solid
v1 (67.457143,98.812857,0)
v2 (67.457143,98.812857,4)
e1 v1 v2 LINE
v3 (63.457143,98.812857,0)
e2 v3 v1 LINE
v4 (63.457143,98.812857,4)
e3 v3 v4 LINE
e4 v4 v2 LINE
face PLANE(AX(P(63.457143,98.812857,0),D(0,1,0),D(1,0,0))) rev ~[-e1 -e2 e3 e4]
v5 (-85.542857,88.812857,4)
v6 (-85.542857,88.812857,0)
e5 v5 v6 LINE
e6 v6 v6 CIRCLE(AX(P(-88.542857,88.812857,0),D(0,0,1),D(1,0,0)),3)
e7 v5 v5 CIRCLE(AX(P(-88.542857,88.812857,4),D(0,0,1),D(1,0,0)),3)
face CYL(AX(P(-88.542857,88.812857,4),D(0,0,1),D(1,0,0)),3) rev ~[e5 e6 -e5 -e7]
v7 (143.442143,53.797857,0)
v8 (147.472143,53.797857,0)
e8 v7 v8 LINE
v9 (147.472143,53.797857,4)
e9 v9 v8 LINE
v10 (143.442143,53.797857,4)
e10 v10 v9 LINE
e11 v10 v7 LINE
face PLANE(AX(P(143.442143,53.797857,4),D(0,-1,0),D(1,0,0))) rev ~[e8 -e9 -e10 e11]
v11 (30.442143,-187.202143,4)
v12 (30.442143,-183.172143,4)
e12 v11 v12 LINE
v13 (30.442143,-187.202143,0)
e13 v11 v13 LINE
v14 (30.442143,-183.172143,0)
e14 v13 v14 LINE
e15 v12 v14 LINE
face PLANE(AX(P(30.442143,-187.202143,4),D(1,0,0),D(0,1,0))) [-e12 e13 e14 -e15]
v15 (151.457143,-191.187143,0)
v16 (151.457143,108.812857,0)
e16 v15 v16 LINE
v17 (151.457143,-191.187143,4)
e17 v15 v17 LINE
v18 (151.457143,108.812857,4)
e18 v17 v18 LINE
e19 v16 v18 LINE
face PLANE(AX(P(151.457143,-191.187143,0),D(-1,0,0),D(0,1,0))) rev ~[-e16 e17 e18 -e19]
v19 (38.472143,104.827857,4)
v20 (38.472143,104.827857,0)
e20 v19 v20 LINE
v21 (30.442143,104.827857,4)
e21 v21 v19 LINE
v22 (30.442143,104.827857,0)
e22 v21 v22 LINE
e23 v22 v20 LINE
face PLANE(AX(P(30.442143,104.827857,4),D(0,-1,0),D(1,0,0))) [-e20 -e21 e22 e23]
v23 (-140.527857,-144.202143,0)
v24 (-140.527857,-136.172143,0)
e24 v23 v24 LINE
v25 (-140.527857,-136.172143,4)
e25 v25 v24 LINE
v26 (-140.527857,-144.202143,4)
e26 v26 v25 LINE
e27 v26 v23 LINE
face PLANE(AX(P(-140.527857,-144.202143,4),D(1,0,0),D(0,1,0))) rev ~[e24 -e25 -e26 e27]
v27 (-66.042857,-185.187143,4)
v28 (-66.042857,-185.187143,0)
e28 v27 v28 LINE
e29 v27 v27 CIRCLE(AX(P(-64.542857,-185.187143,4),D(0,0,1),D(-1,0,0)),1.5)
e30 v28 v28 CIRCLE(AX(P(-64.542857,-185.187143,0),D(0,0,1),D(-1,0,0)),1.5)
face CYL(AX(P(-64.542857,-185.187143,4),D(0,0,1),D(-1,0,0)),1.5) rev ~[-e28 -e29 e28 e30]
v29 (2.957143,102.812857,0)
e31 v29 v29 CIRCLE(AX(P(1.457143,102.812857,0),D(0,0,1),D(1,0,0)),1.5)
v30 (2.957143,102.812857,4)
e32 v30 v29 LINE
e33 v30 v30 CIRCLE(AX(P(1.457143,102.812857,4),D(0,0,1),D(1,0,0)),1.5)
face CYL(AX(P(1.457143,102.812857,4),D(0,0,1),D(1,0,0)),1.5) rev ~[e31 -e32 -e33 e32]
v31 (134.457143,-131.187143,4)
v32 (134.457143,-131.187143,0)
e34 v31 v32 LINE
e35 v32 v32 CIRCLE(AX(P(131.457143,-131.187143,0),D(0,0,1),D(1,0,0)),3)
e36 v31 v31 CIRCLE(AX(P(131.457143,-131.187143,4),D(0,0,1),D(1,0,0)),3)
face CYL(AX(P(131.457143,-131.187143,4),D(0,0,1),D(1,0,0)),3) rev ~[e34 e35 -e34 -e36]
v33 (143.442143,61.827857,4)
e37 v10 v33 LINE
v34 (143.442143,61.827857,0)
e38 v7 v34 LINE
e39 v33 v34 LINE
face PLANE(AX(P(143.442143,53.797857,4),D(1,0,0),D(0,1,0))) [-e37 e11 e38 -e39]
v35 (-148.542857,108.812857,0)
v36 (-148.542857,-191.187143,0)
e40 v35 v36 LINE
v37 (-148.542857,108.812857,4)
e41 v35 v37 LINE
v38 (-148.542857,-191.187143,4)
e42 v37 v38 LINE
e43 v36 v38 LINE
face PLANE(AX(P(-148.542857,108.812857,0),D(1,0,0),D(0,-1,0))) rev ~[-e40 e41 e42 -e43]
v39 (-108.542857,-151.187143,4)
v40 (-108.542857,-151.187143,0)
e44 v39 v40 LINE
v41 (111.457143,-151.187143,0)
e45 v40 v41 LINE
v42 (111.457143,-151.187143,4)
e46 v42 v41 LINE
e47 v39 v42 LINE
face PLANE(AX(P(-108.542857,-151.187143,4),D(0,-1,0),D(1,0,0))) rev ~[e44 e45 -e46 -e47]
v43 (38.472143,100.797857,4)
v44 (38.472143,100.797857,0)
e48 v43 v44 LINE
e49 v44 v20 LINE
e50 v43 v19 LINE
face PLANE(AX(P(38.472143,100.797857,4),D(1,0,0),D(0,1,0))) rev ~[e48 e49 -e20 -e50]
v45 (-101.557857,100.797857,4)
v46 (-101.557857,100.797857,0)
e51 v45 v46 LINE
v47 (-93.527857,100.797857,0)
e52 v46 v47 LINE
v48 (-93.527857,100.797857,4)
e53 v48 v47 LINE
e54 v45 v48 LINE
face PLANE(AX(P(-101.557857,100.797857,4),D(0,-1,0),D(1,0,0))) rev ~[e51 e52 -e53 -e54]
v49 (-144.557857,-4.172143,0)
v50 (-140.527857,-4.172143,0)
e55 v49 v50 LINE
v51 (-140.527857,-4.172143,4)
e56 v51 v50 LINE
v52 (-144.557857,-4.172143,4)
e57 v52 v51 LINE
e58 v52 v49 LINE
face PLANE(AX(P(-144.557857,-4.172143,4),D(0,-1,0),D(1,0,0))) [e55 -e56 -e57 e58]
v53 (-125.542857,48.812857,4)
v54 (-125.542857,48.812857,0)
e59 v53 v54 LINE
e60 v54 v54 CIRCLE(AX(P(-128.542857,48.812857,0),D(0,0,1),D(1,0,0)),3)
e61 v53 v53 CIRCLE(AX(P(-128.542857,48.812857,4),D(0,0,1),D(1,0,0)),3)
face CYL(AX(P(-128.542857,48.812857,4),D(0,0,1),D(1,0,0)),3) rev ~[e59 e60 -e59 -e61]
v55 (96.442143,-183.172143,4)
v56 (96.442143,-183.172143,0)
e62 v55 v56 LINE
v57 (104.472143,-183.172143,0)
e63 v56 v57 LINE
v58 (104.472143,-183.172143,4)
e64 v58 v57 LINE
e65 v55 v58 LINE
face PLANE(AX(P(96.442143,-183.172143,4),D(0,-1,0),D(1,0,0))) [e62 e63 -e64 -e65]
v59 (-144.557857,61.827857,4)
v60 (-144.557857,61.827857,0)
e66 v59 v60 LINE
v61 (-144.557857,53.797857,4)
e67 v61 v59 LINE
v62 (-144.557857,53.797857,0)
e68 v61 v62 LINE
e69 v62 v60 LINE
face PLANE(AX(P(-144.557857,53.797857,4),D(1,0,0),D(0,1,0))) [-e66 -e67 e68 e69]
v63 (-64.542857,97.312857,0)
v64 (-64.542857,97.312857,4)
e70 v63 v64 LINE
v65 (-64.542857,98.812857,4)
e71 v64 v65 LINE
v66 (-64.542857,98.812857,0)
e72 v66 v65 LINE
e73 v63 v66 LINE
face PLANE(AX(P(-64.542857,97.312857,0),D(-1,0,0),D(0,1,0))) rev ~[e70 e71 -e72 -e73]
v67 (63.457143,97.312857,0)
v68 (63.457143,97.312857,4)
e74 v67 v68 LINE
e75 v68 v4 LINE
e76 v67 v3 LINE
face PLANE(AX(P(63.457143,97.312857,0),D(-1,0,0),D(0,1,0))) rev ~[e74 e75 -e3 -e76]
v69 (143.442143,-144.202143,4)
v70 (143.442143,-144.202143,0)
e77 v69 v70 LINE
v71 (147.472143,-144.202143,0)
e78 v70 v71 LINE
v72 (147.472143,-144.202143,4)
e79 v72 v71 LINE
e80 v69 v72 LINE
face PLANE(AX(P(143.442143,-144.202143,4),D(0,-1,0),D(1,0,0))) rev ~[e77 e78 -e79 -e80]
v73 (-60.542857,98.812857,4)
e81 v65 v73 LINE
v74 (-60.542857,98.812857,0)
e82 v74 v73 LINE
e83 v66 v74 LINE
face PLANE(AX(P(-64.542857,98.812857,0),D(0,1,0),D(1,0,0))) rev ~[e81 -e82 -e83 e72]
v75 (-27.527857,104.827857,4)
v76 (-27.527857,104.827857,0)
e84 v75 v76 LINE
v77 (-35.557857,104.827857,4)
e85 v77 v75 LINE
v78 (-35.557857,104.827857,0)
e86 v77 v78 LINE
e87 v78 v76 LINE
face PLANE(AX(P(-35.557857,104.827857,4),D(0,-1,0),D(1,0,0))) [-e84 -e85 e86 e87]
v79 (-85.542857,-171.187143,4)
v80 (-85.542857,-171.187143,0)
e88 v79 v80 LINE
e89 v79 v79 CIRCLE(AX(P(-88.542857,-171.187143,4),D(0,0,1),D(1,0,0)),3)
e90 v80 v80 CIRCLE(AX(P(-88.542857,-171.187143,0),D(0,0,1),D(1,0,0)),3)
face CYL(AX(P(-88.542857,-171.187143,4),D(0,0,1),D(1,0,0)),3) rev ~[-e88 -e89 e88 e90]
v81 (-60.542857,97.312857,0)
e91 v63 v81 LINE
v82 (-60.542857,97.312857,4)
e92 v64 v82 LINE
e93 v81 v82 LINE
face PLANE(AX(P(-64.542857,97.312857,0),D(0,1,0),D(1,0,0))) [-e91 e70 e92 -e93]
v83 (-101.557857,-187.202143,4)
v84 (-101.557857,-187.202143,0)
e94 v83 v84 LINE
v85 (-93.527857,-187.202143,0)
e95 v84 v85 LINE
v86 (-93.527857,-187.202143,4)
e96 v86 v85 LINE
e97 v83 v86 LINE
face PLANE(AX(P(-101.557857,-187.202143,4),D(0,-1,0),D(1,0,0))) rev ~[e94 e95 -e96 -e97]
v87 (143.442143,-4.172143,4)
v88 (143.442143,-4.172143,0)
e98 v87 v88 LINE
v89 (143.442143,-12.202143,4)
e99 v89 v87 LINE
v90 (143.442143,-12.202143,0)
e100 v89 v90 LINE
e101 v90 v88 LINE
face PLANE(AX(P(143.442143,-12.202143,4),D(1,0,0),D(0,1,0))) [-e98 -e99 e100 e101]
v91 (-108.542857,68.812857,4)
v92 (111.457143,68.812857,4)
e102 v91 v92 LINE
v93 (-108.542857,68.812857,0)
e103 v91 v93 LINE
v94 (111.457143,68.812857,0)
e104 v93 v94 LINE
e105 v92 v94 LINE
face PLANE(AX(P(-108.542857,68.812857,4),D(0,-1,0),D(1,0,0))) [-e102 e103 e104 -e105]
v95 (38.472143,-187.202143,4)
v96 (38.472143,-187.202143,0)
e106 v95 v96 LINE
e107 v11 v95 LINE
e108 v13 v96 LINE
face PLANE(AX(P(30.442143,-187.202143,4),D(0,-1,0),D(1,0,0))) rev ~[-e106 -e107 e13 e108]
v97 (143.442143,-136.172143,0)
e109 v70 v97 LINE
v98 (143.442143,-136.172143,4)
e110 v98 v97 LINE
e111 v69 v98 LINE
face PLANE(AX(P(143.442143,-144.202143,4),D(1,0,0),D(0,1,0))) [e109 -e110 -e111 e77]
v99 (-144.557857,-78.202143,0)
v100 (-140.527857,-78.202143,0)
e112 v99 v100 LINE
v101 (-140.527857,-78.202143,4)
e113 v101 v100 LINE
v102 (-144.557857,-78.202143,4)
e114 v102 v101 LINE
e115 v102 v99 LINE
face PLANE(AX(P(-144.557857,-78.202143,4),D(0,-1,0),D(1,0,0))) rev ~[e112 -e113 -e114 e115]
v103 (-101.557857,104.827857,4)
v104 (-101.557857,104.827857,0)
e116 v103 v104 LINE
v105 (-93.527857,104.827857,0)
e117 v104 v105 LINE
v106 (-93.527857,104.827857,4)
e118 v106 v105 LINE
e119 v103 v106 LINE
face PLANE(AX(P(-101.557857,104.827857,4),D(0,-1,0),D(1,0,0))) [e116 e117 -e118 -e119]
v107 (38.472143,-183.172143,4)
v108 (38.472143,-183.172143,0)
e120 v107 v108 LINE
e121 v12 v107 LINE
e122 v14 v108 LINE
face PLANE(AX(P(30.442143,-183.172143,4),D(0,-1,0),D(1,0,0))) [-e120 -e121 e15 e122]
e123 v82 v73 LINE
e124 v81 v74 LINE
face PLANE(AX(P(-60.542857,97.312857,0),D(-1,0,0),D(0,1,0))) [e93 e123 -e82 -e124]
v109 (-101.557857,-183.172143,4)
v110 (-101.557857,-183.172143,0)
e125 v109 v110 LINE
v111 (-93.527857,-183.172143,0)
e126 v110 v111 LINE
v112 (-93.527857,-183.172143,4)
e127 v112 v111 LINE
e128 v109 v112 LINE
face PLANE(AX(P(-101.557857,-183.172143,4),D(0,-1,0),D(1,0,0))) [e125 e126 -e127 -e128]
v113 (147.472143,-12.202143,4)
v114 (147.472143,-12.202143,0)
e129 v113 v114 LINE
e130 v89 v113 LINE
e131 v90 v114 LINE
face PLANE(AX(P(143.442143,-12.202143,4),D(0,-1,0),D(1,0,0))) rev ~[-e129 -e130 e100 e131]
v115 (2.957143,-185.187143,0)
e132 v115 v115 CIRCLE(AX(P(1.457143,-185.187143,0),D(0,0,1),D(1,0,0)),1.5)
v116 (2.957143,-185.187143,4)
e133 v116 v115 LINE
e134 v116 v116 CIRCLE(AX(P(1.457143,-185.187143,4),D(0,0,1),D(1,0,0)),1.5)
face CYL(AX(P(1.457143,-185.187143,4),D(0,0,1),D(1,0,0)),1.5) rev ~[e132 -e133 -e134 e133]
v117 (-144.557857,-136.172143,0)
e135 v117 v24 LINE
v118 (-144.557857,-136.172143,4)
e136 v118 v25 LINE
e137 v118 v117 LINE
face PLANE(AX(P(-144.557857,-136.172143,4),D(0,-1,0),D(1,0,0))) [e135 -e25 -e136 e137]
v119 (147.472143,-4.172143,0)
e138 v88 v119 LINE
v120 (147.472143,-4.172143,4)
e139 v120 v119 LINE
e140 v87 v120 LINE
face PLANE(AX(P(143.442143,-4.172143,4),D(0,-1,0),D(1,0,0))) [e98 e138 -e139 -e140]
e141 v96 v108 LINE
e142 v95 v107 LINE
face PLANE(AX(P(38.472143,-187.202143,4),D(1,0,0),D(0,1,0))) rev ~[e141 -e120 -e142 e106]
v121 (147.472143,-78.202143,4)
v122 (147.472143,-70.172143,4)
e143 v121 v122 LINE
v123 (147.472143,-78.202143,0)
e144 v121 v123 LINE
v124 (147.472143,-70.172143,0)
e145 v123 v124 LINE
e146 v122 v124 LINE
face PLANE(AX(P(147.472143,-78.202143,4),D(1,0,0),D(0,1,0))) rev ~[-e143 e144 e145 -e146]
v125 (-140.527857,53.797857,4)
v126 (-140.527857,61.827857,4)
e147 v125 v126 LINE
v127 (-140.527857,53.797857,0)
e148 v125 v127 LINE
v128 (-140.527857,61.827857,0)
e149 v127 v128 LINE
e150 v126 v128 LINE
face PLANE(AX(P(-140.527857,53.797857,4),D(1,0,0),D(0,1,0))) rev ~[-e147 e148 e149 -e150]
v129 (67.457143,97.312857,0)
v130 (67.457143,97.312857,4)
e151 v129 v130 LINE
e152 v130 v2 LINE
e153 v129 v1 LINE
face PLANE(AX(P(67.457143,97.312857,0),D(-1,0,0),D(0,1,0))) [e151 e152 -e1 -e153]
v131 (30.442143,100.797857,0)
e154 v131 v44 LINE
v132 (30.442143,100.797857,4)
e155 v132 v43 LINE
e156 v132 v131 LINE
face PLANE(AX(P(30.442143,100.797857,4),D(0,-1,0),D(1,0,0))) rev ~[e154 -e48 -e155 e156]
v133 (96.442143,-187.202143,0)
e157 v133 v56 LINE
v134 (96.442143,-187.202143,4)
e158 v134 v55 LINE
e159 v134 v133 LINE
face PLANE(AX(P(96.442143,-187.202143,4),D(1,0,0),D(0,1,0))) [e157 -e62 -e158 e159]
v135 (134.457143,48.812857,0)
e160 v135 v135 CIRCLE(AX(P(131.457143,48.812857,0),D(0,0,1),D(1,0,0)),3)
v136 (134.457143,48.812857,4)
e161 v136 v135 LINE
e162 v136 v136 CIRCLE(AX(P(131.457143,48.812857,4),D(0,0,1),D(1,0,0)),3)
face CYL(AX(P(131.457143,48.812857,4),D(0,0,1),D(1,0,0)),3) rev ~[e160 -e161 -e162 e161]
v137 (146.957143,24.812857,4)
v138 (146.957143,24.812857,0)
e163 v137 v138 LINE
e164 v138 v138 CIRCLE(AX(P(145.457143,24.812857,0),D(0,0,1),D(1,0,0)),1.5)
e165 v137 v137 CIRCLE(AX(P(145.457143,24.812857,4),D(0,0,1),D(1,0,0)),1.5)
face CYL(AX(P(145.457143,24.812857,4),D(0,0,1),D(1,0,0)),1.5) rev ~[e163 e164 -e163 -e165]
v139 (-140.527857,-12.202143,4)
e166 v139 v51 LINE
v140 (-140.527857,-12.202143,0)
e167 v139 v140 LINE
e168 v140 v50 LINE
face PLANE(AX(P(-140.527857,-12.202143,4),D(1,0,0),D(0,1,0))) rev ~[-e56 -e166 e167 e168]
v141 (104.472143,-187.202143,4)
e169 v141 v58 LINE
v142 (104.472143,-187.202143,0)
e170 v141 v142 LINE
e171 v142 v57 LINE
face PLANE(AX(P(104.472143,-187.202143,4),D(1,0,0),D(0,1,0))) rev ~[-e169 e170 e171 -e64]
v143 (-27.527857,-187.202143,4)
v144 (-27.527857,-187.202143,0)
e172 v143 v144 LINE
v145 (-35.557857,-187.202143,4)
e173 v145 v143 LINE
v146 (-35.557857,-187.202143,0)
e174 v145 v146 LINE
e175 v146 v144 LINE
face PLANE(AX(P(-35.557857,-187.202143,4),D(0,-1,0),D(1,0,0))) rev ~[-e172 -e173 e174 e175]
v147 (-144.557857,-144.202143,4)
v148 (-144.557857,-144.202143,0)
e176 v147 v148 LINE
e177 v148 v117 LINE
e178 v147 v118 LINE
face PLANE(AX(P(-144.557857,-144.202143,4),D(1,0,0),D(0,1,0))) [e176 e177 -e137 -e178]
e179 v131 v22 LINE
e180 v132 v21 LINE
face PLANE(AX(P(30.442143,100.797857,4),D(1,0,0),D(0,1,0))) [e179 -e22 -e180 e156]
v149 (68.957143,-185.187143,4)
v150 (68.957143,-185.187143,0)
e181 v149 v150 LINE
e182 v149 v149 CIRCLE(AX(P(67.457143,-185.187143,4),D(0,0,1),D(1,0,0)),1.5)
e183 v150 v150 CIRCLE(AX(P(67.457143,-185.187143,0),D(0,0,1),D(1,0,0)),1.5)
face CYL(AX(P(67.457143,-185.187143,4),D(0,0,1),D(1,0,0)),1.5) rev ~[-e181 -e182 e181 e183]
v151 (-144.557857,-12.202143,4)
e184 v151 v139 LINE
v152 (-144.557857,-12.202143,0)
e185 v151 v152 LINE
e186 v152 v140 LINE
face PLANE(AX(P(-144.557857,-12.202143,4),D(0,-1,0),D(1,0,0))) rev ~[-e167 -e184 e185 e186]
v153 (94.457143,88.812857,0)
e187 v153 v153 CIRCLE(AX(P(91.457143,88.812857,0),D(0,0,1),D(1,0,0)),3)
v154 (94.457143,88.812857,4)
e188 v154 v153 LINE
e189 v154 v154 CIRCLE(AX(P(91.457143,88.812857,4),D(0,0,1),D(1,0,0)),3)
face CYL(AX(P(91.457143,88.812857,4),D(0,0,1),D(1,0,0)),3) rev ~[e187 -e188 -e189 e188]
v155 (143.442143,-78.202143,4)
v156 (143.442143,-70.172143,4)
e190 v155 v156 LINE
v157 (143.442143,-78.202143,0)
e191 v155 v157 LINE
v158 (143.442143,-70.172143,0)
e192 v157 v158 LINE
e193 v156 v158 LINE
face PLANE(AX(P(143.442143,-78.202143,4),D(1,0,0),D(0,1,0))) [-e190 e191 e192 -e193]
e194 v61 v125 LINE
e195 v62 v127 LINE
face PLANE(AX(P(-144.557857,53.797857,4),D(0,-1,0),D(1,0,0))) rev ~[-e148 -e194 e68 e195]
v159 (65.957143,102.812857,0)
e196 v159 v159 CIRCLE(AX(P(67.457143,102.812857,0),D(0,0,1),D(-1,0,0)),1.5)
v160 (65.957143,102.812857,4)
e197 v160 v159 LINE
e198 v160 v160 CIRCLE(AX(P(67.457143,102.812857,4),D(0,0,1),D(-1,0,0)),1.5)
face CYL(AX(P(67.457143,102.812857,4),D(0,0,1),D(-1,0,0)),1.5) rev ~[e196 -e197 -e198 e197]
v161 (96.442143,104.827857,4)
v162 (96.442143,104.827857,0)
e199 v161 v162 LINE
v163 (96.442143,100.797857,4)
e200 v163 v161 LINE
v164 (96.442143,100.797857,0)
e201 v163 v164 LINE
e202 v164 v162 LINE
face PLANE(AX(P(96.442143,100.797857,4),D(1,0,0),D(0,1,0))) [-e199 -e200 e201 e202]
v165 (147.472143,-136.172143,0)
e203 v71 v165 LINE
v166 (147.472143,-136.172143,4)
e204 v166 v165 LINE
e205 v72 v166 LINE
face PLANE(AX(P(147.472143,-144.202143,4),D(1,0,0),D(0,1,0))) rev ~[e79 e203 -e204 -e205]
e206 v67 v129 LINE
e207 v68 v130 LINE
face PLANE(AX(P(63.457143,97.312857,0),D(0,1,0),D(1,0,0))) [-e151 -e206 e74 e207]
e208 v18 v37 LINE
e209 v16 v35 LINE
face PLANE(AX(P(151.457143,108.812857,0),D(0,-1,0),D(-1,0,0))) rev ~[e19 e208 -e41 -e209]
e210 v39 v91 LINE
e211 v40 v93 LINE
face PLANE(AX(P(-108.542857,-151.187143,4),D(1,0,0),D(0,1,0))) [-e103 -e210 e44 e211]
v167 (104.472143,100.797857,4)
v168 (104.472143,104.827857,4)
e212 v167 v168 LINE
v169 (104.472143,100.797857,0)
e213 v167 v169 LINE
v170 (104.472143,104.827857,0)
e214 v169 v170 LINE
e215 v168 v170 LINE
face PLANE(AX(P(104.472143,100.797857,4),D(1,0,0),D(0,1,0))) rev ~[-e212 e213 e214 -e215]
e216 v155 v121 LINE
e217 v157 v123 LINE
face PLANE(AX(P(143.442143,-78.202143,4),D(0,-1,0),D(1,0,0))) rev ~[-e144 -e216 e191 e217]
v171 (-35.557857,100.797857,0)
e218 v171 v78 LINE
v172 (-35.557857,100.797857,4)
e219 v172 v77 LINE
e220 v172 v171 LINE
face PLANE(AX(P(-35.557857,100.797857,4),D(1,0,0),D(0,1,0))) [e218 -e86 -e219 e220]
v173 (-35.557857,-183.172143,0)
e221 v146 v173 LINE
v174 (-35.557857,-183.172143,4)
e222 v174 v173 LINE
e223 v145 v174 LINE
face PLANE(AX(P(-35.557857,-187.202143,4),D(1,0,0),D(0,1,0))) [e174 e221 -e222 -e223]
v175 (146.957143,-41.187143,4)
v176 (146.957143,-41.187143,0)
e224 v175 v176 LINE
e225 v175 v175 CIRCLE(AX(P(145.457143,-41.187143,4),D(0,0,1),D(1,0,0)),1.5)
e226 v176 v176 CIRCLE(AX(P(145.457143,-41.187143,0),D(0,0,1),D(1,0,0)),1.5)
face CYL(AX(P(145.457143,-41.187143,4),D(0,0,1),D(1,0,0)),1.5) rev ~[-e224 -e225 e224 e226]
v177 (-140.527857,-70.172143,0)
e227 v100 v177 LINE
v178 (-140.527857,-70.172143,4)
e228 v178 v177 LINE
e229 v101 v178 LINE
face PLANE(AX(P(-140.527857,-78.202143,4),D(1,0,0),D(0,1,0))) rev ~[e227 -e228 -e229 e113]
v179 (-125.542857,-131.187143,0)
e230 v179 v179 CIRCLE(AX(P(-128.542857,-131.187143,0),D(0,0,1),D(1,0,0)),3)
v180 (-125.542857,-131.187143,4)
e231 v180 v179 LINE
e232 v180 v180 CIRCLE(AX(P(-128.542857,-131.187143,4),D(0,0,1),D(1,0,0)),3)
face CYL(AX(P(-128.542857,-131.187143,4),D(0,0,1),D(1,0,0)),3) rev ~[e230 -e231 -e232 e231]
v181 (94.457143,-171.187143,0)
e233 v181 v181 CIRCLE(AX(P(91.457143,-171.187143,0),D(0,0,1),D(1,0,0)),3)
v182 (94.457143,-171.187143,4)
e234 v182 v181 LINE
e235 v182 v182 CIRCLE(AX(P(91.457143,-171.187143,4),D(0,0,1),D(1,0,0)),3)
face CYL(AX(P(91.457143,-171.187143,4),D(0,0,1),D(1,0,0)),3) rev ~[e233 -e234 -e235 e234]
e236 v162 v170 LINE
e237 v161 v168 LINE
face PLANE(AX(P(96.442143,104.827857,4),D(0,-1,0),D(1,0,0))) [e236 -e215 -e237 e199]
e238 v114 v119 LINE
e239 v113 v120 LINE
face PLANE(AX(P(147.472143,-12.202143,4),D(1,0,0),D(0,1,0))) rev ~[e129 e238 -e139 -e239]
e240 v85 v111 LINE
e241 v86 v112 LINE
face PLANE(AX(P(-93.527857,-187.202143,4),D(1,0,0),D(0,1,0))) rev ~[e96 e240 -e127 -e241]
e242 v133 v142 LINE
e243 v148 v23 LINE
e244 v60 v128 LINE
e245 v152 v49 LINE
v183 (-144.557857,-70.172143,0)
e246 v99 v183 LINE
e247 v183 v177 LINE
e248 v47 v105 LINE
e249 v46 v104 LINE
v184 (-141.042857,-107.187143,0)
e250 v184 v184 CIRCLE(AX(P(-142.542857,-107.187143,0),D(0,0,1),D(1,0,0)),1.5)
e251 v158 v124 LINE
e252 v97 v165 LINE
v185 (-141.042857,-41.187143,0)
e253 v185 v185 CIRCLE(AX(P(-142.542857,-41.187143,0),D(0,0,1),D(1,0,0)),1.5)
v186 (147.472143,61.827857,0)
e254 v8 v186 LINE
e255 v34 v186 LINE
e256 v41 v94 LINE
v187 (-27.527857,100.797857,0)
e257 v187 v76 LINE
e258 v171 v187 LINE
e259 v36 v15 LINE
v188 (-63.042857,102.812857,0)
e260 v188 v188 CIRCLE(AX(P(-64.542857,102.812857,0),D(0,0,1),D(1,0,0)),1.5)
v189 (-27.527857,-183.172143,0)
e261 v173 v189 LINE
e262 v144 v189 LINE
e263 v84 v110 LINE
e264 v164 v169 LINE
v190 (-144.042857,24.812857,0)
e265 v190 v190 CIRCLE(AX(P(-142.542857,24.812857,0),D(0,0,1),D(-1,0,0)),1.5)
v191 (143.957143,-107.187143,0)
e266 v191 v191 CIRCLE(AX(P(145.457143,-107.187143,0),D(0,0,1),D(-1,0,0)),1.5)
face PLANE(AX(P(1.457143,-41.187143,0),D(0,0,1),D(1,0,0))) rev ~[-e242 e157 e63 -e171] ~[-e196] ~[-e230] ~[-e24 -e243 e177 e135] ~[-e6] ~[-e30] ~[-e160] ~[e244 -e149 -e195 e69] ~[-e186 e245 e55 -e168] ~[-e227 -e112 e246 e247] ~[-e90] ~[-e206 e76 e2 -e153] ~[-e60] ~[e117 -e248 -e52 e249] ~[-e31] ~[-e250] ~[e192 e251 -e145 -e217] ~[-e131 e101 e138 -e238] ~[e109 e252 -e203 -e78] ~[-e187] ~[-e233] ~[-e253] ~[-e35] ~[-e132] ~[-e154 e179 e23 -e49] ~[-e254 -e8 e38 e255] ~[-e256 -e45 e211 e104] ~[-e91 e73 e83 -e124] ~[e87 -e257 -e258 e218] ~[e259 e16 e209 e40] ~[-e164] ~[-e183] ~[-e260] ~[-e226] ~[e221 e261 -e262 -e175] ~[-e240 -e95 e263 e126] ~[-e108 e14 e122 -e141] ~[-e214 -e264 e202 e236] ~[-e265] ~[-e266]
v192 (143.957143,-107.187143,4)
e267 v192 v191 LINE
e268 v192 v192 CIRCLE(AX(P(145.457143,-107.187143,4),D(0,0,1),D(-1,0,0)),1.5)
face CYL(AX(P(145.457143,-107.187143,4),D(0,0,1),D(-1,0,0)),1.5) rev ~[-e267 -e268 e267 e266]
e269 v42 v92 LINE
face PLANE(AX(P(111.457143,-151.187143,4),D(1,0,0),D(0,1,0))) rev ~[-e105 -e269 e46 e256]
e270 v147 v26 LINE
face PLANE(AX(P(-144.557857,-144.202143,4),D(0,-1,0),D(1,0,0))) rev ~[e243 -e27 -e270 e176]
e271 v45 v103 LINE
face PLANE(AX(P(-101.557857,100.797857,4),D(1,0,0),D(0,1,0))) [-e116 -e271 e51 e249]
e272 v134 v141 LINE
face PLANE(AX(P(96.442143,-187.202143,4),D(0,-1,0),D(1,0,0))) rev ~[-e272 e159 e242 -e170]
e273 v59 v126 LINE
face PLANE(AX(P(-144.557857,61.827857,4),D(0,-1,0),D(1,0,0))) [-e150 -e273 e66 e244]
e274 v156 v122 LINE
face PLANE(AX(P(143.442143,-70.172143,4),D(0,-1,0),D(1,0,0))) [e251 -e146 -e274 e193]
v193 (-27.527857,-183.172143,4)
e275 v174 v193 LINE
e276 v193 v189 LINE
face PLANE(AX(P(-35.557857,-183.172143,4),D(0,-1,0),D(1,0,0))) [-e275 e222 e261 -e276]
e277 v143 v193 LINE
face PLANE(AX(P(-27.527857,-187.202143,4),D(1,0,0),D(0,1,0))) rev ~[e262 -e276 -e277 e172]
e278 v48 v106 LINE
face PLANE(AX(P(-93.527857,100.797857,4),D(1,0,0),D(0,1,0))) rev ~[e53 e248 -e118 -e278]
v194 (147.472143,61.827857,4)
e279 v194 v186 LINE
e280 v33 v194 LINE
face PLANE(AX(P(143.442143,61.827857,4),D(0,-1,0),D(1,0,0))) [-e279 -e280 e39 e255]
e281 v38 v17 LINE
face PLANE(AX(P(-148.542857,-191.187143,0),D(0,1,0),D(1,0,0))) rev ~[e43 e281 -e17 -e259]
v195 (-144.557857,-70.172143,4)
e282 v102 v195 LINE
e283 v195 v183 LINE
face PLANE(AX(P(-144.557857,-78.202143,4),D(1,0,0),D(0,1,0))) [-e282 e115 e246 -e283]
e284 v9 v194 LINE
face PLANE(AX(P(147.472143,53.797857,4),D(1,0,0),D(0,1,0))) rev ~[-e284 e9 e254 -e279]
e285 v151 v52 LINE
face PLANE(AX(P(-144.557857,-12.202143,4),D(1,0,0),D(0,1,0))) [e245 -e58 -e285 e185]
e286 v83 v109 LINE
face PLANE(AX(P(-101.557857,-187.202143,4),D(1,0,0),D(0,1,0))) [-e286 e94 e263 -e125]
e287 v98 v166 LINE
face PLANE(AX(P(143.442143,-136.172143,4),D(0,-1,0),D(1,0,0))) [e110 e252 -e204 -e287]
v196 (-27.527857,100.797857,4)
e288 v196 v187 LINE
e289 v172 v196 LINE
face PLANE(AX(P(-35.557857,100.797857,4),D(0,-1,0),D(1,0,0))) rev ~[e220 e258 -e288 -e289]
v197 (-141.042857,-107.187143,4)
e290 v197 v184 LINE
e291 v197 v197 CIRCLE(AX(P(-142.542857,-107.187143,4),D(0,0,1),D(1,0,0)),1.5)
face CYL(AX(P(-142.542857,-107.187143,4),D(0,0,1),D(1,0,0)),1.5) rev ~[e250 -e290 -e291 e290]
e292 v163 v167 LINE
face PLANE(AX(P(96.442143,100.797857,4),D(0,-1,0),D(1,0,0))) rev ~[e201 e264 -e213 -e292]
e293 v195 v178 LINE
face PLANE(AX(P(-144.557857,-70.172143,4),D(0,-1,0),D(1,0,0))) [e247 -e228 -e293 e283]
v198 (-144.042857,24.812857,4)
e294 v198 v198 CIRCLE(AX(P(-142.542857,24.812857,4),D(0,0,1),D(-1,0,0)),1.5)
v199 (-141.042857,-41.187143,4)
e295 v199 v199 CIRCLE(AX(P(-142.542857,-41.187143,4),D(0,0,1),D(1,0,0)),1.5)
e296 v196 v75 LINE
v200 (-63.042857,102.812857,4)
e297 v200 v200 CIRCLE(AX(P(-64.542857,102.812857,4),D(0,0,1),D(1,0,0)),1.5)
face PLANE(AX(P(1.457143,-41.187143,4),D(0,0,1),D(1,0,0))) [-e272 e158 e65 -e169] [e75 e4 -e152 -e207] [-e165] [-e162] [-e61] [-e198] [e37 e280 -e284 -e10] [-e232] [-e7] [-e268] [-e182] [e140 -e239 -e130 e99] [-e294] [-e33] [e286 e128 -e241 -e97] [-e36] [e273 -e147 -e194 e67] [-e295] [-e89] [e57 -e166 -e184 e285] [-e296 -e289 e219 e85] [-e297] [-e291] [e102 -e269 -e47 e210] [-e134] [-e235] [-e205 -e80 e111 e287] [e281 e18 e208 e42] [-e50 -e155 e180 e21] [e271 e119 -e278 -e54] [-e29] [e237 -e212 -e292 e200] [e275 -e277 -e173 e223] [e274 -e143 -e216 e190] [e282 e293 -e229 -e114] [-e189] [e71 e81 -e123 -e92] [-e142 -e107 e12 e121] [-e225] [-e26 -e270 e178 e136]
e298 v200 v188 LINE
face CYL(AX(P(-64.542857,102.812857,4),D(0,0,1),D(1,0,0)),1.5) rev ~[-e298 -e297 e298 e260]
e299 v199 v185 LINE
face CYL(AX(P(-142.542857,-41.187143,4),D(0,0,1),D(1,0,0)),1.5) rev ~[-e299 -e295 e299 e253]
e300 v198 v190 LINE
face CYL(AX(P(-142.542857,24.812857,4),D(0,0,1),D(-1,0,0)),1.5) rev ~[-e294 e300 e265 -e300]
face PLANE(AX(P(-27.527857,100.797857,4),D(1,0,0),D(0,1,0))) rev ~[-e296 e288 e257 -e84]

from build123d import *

# Parameters (mm, degrees)
SKETCH_1_R          = 21.5
SKETCH_1_R_2        = 2.1
SKETCH_1_W          = 4
SKETCH_1_H          = 1.5
EXTRUDE_1_DEPTH     = 4
SKETCH_3_R          = 1.5
SKETCH_3_R_2        = 1.65
SKETCH_3_W          = 8.03
SKETCH_3_H          = 4.03
SKETCH_3_W_2        = 4.03
SKETCH_3_H_2        = 8.03
CUT_EXTRUDE_2_DEPTH = 4
SKETCH_7_R          = 3
CUT_EXTRUDE_3_DEPTH = 10
SKETCH_8_W          = 220
SKETCH_8_H          = 220
CUT_EXTRUDE_4_DEPTH = 4


with BuildPart() as part:
    # 草图1 → 凸台-拉伸1 (new body)
    with BuildSketch(Plane.XY):
        Polygon((151.457142857, -41.187142857), (151.457142857, 108.812857143), (-148.542857143, 108.812857143), (-148.542857143, -191.187142857), (151.457142857, -191.187142857), align=None)
        with Locations((1.457142857, -41.187142857)):
            Circle(SKETCH_1_R, mode=Mode.SUBTRACT)
        with Locations((25.027142857, -17.617142857)):
            Circle(SKETCH_1_R_2, mode=Mode.SUBTRACT)
        with Locations((25.027142857, -64.757142857)):
            Circle(SKETCH_1_R_2, mode=Mode.SUBTRACT)
        with Locations((-22.112857143, -64.757142857)):
            Circle(SKETCH_1_R_2, mode=Mode.SUBTRACT)
        with Locations((-22.112857143, -17.617142857)):
            Circle(SKETCH_1_R_2, mode=Mode.SUBTRACT)
        with Locations((65.457142857, 98.062857143)):
            Rectangle(SKETCH_1_W, SKETCH_1_H, mode=Mode.SUBTRACT)
        with Locations((-62.542857143, 98.062857143)):
            Rectangle(SKETCH_1_W, SKETCH_1_H, mode=Mode.SUBTRACT)
    extrude(amount=EXTRUDE_1_DEPTH)

    # 草图3 → 切除-拉伸2 (cut)
    with BuildSketch(Plane.XY.offset(4)):
        with Locations((1.457142857, -185.187142857)):
            Circle(SKETCH_3_R)
        with Locations((67.457142857, -185.187142857)):
            Circle(SKETCH_3_R)
        with Locations(Location((-64.542857143, -185.187142857, 0), (0, 0, 180))):
            Circle(SKETCH_3_R)
        with Locations(Location((-142.542857143, 24.812857143, 0), (0, 0, 180))):
            Circle(SKETCH_3_R)
        with Locations((-142.542857143, -41.187142857)):
            Circle(SKETCH_3_R)
        with Locations((-142.542857143, -107.187142857)):
            Circle(SKETCH_3_R)
        with Locations(Location((67.457142857, 102.812857143, 0), (0, 0, 180))):
            Circle(SKETCH_3_R)
        with Locations((1.457142857, 102.812857143)):
            Circle(SKETCH_3_R)
        with Locations((-64.542857143, 102.812857143)):
            Circle(SKETCH_3_R)
        with Locations(Location((145.457142857, -107.187142857, 0), (0, 0, 180))):
            Circle(SKETCH_3_R)
        with Locations((145.457142857, -41.187142857)):
            Circle(SKETCH_3_R)
        with Locations((145.457142857, 24.812857143)):
            Circle(SKETCH_3_R)
        with Locations((1.457142857, -108.687142857)):
            Circle(SKETCH_3_R_2)
        with Locations((-46.272564873, -88.916850587)):
            Circle(SKETCH_3_R_2)
        with Locations((-66.042857143, -41.187142857)):
            Circle(SKETCH_3_R_2)
        with Locations((-46.272564873, 6.542564873)):
            Circle(SKETCH_3_R_2)
        with Locations((1.457142857, 26.312857143)):
            Circle(SKETCH_3_R_2)
        with Locations((49.186850587, 6.542564873)):
            Circle(SKETCH_3_R_2)
        with Locations((68.957142857, -41.187142857)):
            Circle(SKETCH_3_R_2)
        with Locations((49.186850587, -88.916850587)):
            Circle(SKETCH_3_R_2)
        with Locations((1.457142857, -125.187142857)):
            Circle(SKETCH_3_R)
        with Locations((100.457142857, -185.187142857)):
            Rectangle(SKETCH_3_W, SKETCH_3_H)
        with Locations((34.457142857, -185.187142857)):
            Rectangle(SKETCH_3_W, SKETCH_3_H)
        with Locations((-31.542857143, -185.187142857)):
            Rectangle(SKETCH_3_W, SKETCH_3_H)
        with Locations((-97.542857143, -185.187142857)):
            Rectangle(SKETCH_3_W, SKETCH_3_H)
        with Locations((-142.542857143, 57.812857143)):
            Rectangle(SKETCH_3_W_2, SKETCH_3_H_2)
        with Locations((-142.542857143, -8.187142857)):
            Rectangle(SKETCH_3_W_2, SKETCH_3_H_2)
        with Locations((-142.542857143, -74.187142857)):
            Rectangle(SKETCH_3_W_2, SKETCH_3_H_2)
        with Locations((-142.542857143, -140.187142857)):
            Rectangle(SKETCH_3_W_2, SKETCH_3_H_2)
        with Locations((100.457142857, 102.812857143)):
            Rectangle(SKETCH_3_W, SKETCH_3_H)
        with Locations((34.457142857, 102.812857143)):
            Rectangle(SKETCH_3_W, SKETCH_3_H)
        with Locations((-31.542857143, 102.812857143)):
            Rectangle(SKETCH_3_W, SKETCH_3_H)
        with Locations((-97.542857143, 102.812857143)):
            Rectangle(SKETCH_3_W, SKETCH_3_H)
        with Locations((145.457142857, -140.187142857)):
            Rectangle(SKETCH_3_W_2, SKETCH_3_H_2)
        with Locations((145.457142857, -74.187142857)):
            Rectangle(SKETCH_3_W_2, SKETCH_3_H_2)
        with Locations((145.457142857, -8.187142857)):
            Rectangle(SKETCH_3_W_2, SKETCH_3_H_2)
        with Locations((145.457142857, 57.812857143)):
            Rectangle(SKETCH_3_W_2, SKETCH_3_H_2)
    extrude(amount=-CUT_EXTRUDE_2_DEPTH, mode=Mode.SUBTRACT)

    # 草图7 → 切除-拉伸3 (cut)
    with BuildSketch(Plane.XY.offset(4)):
        with Locations((-88.542857143, -171.187142857)):
            Circle(SKETCH_7_R)
        with Locations((91.457142857, -171.187142857)):
            Circle(SKETCH_7_R)
        with Locations((-128.542857143, 48.812857143)):
            Circle(SKETCH_7_R)
        with Locations((-128.542857143, -131.187142857)):
            Circle(SKETCH_7_R)
        with Locations((91.457142857, 88.812857143)):
            Circle(SKETCH_7_R)
        with Locations((-88.542857143, 88.812857143)):
            Circle(SKETCH_7_R)
        with Locations((131.457142857, -131.187142857)):
            Circle(SKETCH_7_R)
        with Locations((131.457142857, 48.812857143)):
            Circle(SKETCH_7_R)
    extrude(amount=-CUT_EXTRUDE_3_DEPTH, mode=Mode.SUBTRACT)

    # 草图8 → 切除-拉伸4 (cut)
    with BuildSketch(Plane.XY.offset(4)):
        with Locations((1.457142857, -41.187142857)):
            Rectangle(SKETCH_8_W, SKETCH_8_H)
    extrude(amount=-CUT_EXTRUDE_4_DEPTH, mode=Mode.SUBTRACT)


solid = part.part
